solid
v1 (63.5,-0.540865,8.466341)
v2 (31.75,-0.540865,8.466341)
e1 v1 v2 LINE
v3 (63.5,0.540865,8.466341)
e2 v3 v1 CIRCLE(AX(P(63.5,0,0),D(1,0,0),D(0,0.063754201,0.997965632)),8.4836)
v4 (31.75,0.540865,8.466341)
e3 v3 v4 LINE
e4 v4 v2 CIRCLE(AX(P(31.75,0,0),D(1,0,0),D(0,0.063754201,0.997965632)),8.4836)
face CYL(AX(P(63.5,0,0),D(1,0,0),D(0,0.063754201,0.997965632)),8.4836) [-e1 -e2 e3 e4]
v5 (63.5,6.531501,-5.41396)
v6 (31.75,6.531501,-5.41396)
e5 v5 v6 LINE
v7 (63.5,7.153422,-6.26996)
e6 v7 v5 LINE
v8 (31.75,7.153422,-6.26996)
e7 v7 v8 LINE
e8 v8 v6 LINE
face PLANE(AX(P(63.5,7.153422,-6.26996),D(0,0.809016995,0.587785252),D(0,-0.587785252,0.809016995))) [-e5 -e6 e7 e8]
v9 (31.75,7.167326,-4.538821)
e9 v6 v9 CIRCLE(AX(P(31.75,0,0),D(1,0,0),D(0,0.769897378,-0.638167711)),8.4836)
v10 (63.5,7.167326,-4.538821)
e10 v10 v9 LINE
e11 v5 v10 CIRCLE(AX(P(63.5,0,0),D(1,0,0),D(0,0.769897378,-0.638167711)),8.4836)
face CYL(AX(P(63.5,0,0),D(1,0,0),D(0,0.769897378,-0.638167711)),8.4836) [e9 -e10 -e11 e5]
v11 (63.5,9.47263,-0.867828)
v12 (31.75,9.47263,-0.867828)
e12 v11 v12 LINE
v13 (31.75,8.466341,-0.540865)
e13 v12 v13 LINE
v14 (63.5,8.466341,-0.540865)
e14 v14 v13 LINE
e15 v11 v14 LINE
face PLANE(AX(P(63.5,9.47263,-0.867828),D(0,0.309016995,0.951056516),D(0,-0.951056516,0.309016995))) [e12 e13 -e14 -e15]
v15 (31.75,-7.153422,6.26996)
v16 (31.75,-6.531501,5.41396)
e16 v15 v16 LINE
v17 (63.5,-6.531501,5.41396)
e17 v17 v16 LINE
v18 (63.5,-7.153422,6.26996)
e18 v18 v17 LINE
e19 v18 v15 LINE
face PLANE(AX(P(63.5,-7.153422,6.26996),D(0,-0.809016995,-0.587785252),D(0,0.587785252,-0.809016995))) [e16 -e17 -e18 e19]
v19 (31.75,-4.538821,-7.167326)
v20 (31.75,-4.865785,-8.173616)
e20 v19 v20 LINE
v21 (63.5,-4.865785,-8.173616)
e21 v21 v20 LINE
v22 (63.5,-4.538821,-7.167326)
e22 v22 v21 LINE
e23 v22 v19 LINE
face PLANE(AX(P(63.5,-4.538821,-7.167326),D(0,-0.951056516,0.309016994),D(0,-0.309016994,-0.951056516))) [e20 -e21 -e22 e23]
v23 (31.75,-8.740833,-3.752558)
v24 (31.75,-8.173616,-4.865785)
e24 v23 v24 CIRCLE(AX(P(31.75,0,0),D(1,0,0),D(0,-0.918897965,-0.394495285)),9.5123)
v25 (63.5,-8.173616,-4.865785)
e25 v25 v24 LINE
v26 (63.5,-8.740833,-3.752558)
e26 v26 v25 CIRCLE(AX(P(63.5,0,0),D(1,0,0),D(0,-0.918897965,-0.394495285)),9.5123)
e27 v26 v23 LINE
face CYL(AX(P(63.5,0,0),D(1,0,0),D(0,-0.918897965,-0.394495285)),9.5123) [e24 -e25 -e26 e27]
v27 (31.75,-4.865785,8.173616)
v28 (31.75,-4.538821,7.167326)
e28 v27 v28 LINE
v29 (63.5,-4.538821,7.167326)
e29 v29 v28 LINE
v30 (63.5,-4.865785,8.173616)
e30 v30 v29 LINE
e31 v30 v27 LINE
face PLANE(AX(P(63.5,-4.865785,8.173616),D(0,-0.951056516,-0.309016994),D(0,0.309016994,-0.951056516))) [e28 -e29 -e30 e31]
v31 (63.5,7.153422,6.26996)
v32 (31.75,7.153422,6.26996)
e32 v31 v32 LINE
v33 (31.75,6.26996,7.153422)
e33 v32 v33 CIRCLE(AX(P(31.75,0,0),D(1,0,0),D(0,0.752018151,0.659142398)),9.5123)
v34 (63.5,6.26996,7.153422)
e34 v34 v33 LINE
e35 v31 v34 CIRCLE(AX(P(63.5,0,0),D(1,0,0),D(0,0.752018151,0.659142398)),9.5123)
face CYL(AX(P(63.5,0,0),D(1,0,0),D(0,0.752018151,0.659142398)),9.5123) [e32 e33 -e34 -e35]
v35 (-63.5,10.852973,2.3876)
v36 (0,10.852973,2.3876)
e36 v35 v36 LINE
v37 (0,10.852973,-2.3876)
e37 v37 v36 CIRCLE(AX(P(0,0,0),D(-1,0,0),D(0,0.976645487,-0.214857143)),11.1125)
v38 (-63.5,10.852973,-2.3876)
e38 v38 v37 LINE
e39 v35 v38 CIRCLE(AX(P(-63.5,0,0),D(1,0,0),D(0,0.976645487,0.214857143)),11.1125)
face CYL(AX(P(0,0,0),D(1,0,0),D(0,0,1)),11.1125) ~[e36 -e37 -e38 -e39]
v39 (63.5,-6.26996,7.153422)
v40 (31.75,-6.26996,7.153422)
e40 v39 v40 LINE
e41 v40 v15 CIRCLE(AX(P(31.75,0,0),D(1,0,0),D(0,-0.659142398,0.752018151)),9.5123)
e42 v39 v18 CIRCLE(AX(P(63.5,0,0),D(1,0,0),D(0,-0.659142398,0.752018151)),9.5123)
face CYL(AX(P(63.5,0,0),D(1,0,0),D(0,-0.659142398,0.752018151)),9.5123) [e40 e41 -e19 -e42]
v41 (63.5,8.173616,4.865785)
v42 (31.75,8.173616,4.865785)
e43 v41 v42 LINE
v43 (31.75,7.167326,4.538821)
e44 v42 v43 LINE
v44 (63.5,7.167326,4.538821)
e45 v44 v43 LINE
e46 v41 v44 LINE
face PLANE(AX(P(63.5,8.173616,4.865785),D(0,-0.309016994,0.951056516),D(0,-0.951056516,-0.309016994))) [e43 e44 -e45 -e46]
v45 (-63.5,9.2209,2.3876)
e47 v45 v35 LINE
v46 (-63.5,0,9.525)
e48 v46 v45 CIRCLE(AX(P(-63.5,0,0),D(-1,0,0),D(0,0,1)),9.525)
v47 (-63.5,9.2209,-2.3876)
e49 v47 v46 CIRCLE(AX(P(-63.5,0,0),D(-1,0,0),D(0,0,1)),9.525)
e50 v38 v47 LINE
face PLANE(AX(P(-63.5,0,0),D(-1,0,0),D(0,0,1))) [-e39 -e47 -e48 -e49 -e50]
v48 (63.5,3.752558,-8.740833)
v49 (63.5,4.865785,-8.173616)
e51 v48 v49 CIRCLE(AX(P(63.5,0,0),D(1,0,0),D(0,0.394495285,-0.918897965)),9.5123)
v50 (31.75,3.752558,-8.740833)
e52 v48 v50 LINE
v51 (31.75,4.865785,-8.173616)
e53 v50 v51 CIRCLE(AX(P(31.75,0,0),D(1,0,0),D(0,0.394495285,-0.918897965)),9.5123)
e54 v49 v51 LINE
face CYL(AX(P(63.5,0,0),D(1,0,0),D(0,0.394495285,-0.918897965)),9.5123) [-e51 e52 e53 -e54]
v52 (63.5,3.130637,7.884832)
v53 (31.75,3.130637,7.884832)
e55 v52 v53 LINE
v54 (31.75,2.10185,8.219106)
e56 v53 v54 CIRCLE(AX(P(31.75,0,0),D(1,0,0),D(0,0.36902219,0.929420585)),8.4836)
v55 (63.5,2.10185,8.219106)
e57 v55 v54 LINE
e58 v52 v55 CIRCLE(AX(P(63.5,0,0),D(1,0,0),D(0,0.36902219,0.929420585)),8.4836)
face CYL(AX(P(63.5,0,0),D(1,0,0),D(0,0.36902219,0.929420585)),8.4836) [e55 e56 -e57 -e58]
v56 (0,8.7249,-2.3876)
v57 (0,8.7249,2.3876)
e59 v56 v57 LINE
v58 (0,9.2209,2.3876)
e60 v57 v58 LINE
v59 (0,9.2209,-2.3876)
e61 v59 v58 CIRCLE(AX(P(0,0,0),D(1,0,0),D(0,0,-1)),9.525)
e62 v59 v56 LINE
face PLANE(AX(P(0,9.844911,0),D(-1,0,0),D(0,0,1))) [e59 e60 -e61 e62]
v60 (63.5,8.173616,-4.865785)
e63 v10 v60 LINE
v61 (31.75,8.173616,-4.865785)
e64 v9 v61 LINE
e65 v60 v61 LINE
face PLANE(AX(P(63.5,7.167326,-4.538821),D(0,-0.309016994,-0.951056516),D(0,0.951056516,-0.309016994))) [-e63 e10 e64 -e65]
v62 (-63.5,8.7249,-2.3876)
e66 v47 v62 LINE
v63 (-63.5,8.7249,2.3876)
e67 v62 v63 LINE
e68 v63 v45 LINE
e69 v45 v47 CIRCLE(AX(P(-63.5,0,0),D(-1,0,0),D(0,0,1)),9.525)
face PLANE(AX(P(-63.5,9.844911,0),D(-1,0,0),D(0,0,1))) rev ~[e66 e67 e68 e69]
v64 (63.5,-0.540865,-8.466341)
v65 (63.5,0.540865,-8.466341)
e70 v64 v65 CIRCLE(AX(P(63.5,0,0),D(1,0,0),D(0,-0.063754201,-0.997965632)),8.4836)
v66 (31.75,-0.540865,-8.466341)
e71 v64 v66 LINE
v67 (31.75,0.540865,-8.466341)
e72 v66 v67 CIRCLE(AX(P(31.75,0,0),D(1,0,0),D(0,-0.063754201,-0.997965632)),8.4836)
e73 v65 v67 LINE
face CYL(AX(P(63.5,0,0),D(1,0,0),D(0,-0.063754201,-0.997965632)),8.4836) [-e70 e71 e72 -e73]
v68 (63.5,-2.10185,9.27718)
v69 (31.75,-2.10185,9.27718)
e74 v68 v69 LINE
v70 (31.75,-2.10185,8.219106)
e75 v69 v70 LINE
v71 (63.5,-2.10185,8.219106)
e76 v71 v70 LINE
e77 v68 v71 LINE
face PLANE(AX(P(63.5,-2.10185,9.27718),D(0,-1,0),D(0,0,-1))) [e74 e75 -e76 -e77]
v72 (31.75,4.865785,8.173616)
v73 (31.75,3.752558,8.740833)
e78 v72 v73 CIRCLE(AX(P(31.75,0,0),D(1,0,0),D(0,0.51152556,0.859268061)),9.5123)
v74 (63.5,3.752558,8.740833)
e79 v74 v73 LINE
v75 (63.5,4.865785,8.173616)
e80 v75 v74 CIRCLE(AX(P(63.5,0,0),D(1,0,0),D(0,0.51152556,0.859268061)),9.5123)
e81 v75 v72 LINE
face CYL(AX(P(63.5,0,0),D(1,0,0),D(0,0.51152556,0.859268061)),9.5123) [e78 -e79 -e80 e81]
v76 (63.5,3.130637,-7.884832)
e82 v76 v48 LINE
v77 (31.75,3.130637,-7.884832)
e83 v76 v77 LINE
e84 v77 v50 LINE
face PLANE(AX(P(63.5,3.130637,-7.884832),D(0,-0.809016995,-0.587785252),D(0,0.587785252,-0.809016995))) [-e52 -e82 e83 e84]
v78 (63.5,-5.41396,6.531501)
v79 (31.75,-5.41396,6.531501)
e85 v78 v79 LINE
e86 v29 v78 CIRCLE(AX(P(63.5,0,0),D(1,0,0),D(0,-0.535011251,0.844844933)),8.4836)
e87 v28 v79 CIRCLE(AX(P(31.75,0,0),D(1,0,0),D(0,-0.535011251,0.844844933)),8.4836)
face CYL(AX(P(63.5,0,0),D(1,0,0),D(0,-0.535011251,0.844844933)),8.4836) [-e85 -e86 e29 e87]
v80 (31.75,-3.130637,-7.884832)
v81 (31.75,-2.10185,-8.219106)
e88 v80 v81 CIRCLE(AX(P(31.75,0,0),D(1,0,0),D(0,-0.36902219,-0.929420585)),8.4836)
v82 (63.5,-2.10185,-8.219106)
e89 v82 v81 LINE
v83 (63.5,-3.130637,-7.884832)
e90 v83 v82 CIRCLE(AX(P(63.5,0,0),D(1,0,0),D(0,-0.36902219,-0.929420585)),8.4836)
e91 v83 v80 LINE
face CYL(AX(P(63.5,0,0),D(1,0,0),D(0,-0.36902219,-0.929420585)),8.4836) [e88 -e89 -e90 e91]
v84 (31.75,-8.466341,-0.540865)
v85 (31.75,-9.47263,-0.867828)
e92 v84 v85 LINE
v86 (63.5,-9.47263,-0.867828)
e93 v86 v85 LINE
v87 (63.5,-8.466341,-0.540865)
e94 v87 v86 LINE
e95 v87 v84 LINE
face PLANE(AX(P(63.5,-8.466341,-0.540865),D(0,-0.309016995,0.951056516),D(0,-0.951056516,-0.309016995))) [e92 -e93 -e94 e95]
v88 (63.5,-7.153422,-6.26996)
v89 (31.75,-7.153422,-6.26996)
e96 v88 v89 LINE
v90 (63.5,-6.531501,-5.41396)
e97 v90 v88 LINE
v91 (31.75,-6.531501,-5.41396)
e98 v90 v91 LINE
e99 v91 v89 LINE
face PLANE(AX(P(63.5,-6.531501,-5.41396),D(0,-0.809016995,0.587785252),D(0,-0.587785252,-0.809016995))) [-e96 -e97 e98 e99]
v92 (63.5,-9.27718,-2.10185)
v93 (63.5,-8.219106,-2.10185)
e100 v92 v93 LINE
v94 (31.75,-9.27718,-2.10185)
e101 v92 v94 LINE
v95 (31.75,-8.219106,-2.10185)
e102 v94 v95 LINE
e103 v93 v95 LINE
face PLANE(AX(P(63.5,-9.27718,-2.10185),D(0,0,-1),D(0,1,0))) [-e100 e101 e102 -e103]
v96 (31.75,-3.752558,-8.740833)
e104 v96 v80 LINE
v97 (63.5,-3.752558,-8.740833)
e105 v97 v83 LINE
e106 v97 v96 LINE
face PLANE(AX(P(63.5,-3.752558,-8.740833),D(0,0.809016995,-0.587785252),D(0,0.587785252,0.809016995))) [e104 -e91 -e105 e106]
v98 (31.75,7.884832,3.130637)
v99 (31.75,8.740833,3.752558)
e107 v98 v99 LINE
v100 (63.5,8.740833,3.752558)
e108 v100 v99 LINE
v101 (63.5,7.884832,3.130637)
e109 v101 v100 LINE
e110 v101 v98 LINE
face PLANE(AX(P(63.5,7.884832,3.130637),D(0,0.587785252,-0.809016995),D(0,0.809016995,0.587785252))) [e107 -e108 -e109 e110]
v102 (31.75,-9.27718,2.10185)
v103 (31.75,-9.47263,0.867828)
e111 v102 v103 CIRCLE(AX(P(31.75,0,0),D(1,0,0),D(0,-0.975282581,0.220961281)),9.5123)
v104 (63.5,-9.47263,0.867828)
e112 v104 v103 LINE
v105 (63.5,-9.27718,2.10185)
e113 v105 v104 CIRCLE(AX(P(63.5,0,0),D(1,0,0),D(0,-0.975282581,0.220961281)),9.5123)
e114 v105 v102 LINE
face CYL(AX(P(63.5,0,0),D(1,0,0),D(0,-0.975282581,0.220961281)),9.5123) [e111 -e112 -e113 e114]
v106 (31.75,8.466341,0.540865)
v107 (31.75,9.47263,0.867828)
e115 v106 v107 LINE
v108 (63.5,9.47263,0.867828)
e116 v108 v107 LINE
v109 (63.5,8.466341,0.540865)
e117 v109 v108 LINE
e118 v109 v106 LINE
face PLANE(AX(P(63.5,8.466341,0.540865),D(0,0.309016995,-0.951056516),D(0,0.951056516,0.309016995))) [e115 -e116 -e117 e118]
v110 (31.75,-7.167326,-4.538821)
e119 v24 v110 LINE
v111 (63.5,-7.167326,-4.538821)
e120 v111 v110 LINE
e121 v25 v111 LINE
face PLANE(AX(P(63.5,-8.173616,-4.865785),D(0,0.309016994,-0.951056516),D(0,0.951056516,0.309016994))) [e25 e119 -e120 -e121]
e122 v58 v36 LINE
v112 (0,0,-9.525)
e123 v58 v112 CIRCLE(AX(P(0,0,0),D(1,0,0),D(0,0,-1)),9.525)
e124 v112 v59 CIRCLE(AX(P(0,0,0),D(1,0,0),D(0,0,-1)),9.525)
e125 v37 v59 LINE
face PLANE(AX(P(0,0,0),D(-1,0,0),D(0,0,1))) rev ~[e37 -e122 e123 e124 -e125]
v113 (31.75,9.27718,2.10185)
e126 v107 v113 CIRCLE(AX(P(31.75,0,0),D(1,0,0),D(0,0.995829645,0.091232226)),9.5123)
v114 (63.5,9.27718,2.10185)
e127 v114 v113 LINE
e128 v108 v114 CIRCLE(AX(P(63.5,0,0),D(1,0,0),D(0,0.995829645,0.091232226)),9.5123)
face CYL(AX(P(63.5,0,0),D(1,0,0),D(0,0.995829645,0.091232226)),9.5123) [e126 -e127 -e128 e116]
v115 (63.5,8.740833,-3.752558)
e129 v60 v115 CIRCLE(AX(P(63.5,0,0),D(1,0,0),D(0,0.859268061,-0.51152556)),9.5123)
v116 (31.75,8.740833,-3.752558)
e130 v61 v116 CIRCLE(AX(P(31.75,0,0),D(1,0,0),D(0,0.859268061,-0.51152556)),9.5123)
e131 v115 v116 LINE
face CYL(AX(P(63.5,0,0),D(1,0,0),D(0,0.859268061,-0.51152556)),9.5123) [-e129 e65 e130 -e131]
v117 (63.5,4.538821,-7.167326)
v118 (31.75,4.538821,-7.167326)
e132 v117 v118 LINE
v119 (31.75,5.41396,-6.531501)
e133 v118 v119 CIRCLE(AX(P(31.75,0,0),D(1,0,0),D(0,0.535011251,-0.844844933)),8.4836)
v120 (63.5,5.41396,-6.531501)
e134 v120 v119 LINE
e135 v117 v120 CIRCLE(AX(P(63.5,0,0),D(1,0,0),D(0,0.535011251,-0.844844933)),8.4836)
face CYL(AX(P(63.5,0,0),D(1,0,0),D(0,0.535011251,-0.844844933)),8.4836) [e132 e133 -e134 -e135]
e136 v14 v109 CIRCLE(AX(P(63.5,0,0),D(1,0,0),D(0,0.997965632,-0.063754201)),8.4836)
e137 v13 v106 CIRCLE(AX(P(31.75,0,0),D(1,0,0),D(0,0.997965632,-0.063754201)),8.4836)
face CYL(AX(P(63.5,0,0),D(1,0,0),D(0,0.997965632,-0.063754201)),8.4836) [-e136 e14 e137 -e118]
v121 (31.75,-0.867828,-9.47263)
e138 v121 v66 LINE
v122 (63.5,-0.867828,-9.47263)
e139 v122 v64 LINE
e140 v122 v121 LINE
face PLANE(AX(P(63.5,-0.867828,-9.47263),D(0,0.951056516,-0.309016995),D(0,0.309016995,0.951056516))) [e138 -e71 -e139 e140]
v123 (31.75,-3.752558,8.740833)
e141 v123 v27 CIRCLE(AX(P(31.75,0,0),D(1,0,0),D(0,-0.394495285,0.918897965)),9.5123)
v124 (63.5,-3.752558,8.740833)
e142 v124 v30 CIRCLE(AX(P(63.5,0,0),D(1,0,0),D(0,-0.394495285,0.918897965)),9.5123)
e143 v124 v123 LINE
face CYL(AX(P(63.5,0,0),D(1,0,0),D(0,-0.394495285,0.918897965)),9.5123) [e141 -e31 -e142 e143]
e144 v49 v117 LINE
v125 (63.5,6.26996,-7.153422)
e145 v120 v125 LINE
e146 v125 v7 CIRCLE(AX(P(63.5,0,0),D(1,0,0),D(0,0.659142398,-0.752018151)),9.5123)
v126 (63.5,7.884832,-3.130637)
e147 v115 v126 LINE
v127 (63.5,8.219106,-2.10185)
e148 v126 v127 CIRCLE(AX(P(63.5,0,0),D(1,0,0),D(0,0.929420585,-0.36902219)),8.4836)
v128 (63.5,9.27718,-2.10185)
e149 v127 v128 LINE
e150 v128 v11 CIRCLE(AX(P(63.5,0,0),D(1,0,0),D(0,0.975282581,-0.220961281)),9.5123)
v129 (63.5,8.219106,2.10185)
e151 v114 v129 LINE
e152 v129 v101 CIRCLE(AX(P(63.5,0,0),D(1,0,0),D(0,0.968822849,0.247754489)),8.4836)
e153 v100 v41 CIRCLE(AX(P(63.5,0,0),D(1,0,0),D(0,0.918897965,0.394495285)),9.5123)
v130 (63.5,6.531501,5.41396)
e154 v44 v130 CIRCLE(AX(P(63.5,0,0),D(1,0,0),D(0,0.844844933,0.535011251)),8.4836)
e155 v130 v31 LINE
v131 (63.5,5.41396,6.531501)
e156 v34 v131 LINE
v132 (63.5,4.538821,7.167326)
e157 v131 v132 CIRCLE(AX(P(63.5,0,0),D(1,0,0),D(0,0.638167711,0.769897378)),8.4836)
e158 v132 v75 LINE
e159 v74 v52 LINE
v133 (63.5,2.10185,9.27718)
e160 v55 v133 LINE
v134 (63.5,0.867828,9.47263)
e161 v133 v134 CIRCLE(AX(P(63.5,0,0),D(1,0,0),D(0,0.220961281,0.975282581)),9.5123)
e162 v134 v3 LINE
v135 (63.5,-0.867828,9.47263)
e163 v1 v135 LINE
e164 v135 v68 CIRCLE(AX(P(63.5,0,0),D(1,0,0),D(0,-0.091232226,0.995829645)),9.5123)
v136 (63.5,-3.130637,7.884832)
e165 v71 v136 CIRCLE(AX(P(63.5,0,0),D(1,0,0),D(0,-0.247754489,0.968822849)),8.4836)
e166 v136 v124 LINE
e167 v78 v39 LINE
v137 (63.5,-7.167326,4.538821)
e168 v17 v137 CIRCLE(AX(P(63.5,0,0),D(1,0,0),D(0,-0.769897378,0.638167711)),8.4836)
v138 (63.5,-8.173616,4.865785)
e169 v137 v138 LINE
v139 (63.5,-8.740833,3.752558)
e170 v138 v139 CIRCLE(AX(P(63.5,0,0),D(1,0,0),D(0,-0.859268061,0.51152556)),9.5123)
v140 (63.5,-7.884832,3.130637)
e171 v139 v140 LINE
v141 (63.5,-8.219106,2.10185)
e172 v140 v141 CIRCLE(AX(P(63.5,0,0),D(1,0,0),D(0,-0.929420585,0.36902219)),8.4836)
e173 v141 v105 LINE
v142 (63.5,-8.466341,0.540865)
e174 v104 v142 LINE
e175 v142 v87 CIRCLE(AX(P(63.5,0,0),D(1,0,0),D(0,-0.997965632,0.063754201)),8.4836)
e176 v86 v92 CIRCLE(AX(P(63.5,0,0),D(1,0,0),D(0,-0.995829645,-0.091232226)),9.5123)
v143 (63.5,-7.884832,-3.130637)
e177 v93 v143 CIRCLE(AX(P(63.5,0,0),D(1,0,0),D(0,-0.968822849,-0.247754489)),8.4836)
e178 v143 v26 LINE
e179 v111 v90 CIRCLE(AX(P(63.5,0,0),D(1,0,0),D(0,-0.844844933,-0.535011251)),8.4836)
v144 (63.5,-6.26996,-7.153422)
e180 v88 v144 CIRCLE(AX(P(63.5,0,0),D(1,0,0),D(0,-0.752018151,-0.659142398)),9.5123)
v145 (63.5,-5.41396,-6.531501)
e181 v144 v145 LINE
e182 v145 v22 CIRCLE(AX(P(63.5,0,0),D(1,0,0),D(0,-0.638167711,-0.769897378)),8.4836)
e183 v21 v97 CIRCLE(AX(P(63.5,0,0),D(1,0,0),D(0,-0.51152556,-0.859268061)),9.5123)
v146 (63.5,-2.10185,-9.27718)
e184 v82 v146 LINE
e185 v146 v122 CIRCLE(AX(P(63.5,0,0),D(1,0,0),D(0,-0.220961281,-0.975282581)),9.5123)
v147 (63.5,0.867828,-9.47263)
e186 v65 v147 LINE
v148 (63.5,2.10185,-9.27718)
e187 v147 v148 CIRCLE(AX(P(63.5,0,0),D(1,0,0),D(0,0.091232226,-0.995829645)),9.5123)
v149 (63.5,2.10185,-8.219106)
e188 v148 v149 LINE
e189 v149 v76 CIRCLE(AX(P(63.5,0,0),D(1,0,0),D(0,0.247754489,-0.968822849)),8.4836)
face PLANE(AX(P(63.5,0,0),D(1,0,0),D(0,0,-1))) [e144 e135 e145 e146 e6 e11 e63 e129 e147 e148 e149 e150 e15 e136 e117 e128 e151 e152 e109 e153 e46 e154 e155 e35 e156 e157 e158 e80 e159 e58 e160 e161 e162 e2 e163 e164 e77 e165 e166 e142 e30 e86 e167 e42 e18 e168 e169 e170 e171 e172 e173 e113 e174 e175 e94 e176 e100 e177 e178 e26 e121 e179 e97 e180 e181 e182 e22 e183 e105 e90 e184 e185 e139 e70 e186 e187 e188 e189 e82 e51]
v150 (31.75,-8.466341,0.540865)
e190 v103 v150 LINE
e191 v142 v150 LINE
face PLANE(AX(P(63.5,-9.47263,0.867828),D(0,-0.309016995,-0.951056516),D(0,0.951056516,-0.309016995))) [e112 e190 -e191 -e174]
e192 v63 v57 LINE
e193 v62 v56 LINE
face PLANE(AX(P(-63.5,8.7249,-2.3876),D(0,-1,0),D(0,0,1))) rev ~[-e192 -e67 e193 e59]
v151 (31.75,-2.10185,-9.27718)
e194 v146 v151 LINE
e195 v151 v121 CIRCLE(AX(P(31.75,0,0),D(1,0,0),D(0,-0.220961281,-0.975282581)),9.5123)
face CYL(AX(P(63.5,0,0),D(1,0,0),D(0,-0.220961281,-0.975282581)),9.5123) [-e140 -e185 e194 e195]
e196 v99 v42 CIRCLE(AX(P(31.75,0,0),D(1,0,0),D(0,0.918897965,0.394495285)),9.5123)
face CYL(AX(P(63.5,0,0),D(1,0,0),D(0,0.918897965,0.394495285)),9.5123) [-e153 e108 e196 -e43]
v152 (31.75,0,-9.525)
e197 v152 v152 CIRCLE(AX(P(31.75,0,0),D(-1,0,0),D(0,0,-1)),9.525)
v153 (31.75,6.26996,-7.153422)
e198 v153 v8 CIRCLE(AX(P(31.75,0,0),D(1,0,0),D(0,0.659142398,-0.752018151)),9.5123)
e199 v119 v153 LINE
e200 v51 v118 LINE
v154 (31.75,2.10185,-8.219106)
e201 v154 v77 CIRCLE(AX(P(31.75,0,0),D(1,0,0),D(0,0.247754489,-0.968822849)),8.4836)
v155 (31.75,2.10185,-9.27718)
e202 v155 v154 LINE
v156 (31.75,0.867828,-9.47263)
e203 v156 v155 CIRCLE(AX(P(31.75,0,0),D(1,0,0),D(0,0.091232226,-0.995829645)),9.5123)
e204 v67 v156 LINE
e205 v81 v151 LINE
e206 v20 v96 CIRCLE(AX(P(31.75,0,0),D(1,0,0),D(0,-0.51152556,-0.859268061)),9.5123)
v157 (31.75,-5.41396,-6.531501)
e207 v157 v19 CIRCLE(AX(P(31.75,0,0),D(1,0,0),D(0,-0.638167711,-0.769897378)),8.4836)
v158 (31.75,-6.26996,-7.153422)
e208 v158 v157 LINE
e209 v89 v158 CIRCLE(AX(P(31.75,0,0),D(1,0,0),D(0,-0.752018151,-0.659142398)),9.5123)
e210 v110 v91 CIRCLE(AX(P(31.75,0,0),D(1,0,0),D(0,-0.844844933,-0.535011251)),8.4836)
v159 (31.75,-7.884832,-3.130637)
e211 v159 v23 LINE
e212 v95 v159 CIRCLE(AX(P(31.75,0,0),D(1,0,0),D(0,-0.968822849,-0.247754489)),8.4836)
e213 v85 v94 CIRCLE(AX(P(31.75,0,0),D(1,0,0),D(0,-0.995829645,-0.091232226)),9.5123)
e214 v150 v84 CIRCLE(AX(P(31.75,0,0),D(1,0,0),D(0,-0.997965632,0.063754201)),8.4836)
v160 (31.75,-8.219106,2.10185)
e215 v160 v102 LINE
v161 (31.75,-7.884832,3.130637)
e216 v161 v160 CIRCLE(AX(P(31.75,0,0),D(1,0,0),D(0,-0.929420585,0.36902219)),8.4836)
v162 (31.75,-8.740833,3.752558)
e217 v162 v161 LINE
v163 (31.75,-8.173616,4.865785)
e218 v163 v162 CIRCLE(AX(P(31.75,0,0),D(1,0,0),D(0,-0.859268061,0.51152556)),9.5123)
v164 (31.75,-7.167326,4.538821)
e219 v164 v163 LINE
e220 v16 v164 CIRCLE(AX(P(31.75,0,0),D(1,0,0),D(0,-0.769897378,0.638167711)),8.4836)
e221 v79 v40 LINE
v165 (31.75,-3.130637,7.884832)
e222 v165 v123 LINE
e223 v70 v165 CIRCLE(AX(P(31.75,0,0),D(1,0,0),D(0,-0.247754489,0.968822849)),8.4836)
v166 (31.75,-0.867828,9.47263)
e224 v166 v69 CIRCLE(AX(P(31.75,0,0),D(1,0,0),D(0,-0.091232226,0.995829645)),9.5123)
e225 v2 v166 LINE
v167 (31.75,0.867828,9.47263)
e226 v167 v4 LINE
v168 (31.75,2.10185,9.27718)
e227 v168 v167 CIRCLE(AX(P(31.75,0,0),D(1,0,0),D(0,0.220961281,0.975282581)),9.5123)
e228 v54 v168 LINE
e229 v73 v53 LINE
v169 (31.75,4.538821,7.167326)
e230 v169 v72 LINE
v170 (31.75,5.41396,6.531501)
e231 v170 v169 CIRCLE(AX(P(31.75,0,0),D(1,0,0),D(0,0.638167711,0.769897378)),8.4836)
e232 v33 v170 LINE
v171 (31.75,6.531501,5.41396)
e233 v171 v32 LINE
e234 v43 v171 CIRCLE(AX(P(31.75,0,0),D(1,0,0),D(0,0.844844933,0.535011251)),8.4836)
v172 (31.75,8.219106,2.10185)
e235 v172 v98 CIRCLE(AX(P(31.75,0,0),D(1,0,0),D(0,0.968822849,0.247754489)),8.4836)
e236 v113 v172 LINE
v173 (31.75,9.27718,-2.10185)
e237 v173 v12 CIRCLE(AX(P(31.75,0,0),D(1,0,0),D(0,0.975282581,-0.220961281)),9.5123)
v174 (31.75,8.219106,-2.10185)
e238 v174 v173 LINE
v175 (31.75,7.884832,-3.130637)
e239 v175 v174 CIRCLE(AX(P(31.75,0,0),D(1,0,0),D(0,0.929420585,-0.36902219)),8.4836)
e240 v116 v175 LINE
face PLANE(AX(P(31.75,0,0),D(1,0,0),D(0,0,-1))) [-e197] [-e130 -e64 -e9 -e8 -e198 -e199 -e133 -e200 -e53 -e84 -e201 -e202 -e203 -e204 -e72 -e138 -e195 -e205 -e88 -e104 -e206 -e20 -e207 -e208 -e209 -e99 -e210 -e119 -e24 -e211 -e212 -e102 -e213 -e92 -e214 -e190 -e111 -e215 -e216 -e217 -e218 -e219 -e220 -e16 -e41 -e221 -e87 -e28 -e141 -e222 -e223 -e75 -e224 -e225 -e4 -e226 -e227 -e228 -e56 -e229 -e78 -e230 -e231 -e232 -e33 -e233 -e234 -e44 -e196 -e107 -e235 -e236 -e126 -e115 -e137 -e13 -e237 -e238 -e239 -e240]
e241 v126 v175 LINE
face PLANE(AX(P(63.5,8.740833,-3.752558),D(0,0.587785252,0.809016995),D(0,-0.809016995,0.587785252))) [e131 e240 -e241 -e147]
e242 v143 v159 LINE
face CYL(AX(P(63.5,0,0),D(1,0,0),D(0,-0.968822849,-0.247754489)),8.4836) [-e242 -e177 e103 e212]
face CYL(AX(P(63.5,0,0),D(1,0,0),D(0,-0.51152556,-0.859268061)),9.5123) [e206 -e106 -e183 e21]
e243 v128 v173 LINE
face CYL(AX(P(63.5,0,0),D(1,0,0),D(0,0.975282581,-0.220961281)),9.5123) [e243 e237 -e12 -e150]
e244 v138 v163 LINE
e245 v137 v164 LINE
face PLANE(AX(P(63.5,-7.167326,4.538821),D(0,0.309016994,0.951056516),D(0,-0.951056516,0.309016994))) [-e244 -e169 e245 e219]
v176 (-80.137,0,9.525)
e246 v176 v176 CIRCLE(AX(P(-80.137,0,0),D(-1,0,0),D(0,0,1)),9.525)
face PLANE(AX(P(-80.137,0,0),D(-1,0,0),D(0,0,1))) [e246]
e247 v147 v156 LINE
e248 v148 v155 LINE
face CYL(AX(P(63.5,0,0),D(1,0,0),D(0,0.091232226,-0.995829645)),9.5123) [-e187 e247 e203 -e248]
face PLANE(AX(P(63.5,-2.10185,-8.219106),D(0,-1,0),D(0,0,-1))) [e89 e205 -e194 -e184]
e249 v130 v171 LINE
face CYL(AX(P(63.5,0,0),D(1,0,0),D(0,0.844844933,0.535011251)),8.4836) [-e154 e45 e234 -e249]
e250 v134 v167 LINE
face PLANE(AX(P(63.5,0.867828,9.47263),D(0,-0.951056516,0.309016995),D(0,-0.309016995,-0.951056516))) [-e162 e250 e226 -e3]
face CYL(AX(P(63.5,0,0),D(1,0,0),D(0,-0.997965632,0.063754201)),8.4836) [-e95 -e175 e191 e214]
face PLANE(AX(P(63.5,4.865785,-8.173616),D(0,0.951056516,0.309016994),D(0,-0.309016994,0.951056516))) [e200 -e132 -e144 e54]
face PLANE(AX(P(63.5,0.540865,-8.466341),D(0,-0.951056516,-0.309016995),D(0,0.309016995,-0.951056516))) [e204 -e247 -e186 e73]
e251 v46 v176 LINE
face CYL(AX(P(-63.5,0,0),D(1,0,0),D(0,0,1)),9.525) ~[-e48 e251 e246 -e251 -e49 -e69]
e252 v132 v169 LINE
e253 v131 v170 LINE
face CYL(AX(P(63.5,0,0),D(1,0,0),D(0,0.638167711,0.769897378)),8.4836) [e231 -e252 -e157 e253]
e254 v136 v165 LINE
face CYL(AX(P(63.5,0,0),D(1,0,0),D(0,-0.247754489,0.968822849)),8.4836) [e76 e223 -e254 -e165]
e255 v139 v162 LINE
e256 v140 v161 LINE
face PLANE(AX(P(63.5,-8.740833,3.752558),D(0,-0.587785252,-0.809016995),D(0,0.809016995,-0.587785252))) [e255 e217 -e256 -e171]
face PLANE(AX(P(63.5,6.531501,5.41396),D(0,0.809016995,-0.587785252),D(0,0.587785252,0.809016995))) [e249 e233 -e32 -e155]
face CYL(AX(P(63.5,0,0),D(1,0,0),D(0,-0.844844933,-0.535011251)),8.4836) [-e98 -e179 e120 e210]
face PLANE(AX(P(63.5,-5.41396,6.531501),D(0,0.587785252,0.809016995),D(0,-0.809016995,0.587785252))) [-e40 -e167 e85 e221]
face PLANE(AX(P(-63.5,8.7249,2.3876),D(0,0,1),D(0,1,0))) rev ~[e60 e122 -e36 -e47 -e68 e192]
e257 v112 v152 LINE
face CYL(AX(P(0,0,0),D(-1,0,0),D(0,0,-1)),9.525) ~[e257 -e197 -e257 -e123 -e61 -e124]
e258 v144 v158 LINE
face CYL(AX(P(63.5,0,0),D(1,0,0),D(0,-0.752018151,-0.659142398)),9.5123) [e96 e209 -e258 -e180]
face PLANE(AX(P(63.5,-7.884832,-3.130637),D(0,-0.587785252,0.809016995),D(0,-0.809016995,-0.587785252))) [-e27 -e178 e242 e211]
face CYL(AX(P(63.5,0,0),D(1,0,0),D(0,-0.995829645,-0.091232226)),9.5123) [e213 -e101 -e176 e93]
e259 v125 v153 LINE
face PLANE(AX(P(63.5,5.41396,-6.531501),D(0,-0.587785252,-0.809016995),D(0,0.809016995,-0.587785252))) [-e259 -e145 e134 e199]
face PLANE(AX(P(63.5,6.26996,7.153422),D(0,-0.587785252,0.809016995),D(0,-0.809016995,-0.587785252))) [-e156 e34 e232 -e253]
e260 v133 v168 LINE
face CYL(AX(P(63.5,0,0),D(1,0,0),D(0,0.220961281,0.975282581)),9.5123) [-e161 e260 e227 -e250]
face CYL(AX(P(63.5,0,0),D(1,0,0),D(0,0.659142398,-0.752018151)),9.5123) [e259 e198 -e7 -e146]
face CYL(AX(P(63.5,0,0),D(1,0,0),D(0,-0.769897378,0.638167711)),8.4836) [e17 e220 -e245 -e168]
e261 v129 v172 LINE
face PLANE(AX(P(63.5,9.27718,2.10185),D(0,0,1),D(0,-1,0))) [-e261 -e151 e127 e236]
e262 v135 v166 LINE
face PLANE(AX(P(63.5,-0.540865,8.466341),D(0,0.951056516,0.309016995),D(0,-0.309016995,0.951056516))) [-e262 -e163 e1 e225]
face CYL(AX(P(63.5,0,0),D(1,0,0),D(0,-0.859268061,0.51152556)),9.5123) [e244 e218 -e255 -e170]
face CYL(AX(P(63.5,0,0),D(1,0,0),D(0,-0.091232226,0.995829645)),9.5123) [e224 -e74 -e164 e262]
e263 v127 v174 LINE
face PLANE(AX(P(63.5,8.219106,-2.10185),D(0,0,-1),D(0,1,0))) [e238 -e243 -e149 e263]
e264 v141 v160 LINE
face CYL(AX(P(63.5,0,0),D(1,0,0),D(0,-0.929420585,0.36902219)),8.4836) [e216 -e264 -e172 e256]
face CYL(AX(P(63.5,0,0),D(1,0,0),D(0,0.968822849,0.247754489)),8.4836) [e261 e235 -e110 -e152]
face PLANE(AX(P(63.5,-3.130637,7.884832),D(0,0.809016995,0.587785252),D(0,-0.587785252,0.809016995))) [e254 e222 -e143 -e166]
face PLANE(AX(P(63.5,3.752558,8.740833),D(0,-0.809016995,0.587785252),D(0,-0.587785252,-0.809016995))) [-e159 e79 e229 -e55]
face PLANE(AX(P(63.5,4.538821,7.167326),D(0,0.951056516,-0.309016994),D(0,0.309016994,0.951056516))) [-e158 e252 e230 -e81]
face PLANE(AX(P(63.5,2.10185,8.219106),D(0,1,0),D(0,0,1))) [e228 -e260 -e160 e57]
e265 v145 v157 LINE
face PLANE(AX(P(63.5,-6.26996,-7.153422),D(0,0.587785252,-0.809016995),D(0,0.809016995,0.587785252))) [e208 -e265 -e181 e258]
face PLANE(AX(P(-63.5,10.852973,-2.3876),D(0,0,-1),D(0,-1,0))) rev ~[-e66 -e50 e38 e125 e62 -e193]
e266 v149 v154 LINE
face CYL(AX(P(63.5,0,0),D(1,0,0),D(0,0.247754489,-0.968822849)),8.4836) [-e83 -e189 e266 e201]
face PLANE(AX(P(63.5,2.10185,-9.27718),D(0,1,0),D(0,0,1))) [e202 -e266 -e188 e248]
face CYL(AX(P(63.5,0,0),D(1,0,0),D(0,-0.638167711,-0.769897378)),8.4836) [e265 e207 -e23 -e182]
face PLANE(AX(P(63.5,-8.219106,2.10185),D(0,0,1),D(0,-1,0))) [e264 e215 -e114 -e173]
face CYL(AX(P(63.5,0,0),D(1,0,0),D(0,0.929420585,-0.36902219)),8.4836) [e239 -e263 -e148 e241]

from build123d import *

# Parameters (mm, degrees)
SKETCH1_R           = 9.525
BOSS_EXTRUDE1_DEPTH = 63.5
SKETCH2_OUTSIDE_W   = 34.846
SKETCH2_OUTSIDE_H   = 34.846
CUT_EXTRUDE1_DEPTH  = 31.75
SKETCH3_R           = 11.1125
BOSS_EXTRUDE2_DEPTH = 63.5
SKETCH4_R           = 9.525
BOSS_EXTRUDE3_DEPTH = 16.637
CUT_EXTRUDE2_DEPTH  = 63.5


with BuildPart() as part:
    # Sketch1 → Boss-Extrude1 (new body)
    with BuildSketch(Plane(origin=(0, 0, 0), x_dir=(0, 0, -1), z_dir=(1, 0, 0))):
        Circle(SKETCH1_R)
    extrude(amount=BOSS_EXTRUDE1_DEPTH)

    # Sketch2 outside → Cut-Extrude1 (cut)
    with BuildSketch(Plane(origin=(63.5, 0, 0), x_dir=(0, 0, -1), z_dir=(1, 0, 0))):
        Rectangle(SKETCH2_OUTSIDE_W, SKETCH2_OUTSIDE_H)
        with BuildLine():
            Line((-2.10185, -8.219105519), (-2.10185, -9.277180491))
            ThreePointArc((-2.10185, -9.277180491), (-1.488051562, -9.395187802), (-0.867828293, -9.472630329))
            Line((-0.867828293, -9.472630329), (-0.540865145, -8.466341232))
            ThreePointArc((-0.540865145, -8.466341232), (0, -8.4836), (0.540865145, -8.466341232))
            Line((0.540865145, -8.466341232), (0.867828293, -9.472630329))
            ThreePointArc((0.867828293, -9.472630329), (1.488051562, -9.395187802), (2.10185, -9.277180491))
            Line((2.10185, -9.277180491), (2.10185, -8.219105519))
            ThreePointArc((2.10185, -8.219105519), (2.621576573, -8.068383062), (3.130636642, -7.884832476))
            Line((3.130636642, -7.884832476), (3.752557506, -8.74083311))
            ThreePointArc((3.752557506, -8.74083311), (4.318493831, -8.47552136), (4.86578457, -8.173615589))
            Line((4.86578457, -8.173615589), (4.538821423, -7.167326493))
            ThreePointArc((4.538821423, -7.167326493), (4.986534966, -6.863376573), (5.413959611, -6.531501381))
            Line((5.413959611, -6.531501381), (6.269960245, -7.153422245))
            ThreePointArc((6.269960245, -7.153422245), (6.726211835, -6.726211835), (7.153422245, -6.269960245))
            Line((7.153422245, -6.269960245), (6.531501381, -5.413959611))
            ThreePointArc((6.531501381, -5.413959611), (6.863376573, -4.986534966), (7.167326493, -4.538821423))
            Line((7.167326493, -4.538821423), (8.173615589, -4.86578457))
            ThreePointArc((8.173615589, -4.86578457), (8.47552136, -4.318493831), (8.74083311, -3.752557506))
            Line((8.74083311, -3.752557506), (7.884832476, -3.130636642))
            ThreePointArc((7.884832476, -3.130636642), (8.068383062, -2.621576573), (8.219105519, -2.10185))
            Line((8.219105519, -2.10185), (9.277180491, -2.10185))
            ThreePointArc((9.277180491, -2.10185), (9.395187802, -1.488051562), (9.472630329, -0.867828293))
            Line((9.472630329, -0.867828293), (8.466341232, -0.540865145))
            ThreePointArc((8.466341232, -0.540865145), (8.4836, 0), (8.466341232, 0.540865145))
            Line((8.466341232, 0.540865145), (9.472630329, 0.867828293))
            ThreePointArc((9.472630329, 0.867828293), (9.395187802, 1.488051562), (9.277180491, 2.10185))
            Line((9.277180491, 2.10185), (8.219105519, 2.10185))
            ThreePointArc((8.219105519, 2.10185), (8.068383062, 2.621576573), (7.884832476, 3.130636642))
            Line((7.884832476, 3.130636642), (8.74083311, 3.752557506))
            ThreePointArc((8.74083311, 3.752557506), (8.47552136, 4.318493831), (8.173615589, 4.86578457))
            Line((8.173615589, 4.86578457), (7.167326493, 4.538821423))
            ThreePointArc((7.167326493, 4.538821423), (6.863376573, 4.986534966), (6.531501381, 5.413959611))
            Line((6.531501381, 5.413959611), (7.153422245, 6.269960245))
            ThreePointArc((7.153422245, 6.269960245), (6.726211835, 6.726211835), (6.269960245, 7.153422245))
            Line((6.269960245, 7.153422245), (5.413959611, 6.531501381))
            ThreePointArc((5.413959611, 6.531501381), (4.986534966, 6.863376573), (4.538821423, 7.167326493))
            Line((4.538821423, 7.167326493), (4.86578457, 8.173615589))
            ThreePointArc((4.86578457, 8.173615589), (4.318493831, 8.47552136), (3.752557506, 8.74083311))
            Line((3.752557506, 8.74083311), (3.130636642, 7.884832476))
            ThreePointArc((3.130636642, 7.884832476), (2.621576573, 8.068383062), (2.10185, 8.219105519))
            Line((2.10185, 8.219105519), (2.10185, 9.277180491))
            ThreePointArc((2.10185, 9.277180491), (1.488051562, 9.395187802), (0.867828293, 9.472630329))
            Line((0.867828293, 9.472630329), (0.540865145, 8.466341232))
            ThreePointArc((0.540865145, 8.466341232), (0, 8.4836), (-0.540865145, 8.466341232))
            Line((-0.540865145, 8.466341232), (-0.867828293, 9.472630329))
            ThreePointArc((-0.867828293, 9.472630329), (-1.488051562, 9.395187802), (-2.10185, 9.277180491))
            Line((-2.10185, 9.277180491), (-2.10185, 8.219105519))
            ThreePointArc((-2.10185, 8.219105519), (-2.621576573, 8.068383062), (-3.130636642, 7.884832476))
            Line((-3.130636642, 7.884832476), (-3.752557506, 8.74083311))
            ThreePointArc((-3.752557506, 8.74083311), (-4.318493831, 8.47552136), (-4.86578457, 8.173615589))
            Line((-4.86578457, 8.173615589), (-4.538821423, 7.167326493))
            ThreePointArc((-4.538821423, 7.167326493), (-4.986534966, 6.863376573), (-5.413959611, 6.531501381))
            Line((-5.413959611, 6.531501381), (-6.269960245, 7.153422245))
            ThreePointArc((-6.269960245, 7.153422245), (-6.726211835, 6.726211835), (-7.153422245, 6.269960245))
            Line((-7.153422245, 6.269960245), (-6.531501381, 5.413959611))
            ThreePointArc((-6.531501381, 5.413959611), (-6.863376573, 4.986534966), (-7.167326493, 4.538821423))
            Line((-7.167326493, 4.538821423), (-8.173615589, 4.86578457))
            ThreePointArc((-8.173615589, 4.86578457), (-8.47552136, 4.318493831), (-8.74083311, 3.752557506))
            Line((-8.74083311, 3.752557506), (-7.884832476, 3.130636642))
            ThreePointArc((-7.884832476, 3.130636642), (-8.068383062, 2.621576573), (-8.219105519, 2.10185))
            Line((-8.219105519, 2.10185), (-9.277180491, 2.10185))
            ThreePointArc((-9.277180491, 2.10185), (-9.395187802, 1.488051562), (-9.472630329, 0.867828293))
            Line((-9.472630329, 0.867828293), (-8.466341232, 0.540865145))
            ThreePointArc((-8.466341232, 0.540865145), (-8.4836, 0), (-8.466341232, -0.540865145))
            Line((-8.466341232, -0.540865145), (-9.472630329, -0.867828293))
            ThreePointArc((-9.472630329, -0.867828293), (-9.395187802, -1.488051562), (-9.277180491, -2.10185))
            Line((-9.277180491, -2.10185), (-8.219105519, -2.10185))
            ThreePointArc((-8.219105519, -2.10185), (-8.068383062, -2.621576573), (-7.884832476, -3.130636642))
            Line((-7.884832476, -3.130636642), (-8.74083311, -3.752557506))
            ThreePointArc((-8.74083311, -3.752557506), (-8.47552136, -4.318493831), (-8.173615589, -4.86578457))
            Line((-8.173615589, -4.86578457), (-7.167326493, -4.538821423))
            ThreePointArc((-7.167326493, -4.538821423), (-6.863376573, -4.986534966), (-6.531501381, -5.413959611))
            Line((-6.531501381, -5.413959611), (-7.153422245, -6.269960245))
            ThreePointArc((-7.153422245, -6.269960245), (-6.726211835, -6.726211835), (-6.269960245, -7.153422245))
            Line((-6.269960245, -7.153422245), (-5.413959611, -6.531501381))
            ThreePointArc((-5.413959611, -6.531501381), (-4.986534966, -6.863376573), (-4.538821423, -7.167326493))
            Line((-4.538821423, -7.167326493), (-4.86578457, -8.173615589))
            ThreePointArc((-4.86578457, -8.173615589), (-4.318493831, -8.47552136), (-3.752557506, -8.74083311))
            Line((-3.752557506, -8.74083311), (-3.130636642, -7.884832476))
            ThreePointArc((-3.130636642, -7.884832476), (-2.621576573, -8.068383062), (-2.10185, -8.219105519))
        make_face(mode=Mode.SUBTRACT)
    extrude(amount=-CUT_EXTRUDE1_DEPTH, mode=Mode.SUBTRACT)

    # Sketch3 → Boss-Extrude2 (add)
    with BuildSketch(Plane.ZY):
        Circle(SKETCH3_R)
    extrude(amount=BOSS_EXTRUDE2_DEPTH)

    # Sketch4 → Boss-Extrude3 (add)
    with BuildSketch(Plane.ZY.offset(63.5)):
        Circle(SKETCH4_R)
    extrude(amount=BOSS_EXTRUDE3_DEPTH)

    # Sketch5 → Cut-Extrude2 (cut)
    with BuildSketch(Plane.ZY.offset(63.5)):
        with BuildLine():
            Line((0, 8.7249), (2.3876, 8.7249))
            Line((2.3876, 8.7249), (2.3876, 10.852972979))
            ThreePointArc((2.3876, 10.852972979), (0, 11.1125), (-2.3876, 10.852972979))
            Line((-2.3876, 10.852972979), (-2.3876, 8.7249))
            Line((-2.3876, 8.7249), (0, 8.7249))
        make_face()
    extrude(amount=-CUT_EXTRUDE2_DEPTH, mode=Mode.SUBTRACT)


solid = part.part
